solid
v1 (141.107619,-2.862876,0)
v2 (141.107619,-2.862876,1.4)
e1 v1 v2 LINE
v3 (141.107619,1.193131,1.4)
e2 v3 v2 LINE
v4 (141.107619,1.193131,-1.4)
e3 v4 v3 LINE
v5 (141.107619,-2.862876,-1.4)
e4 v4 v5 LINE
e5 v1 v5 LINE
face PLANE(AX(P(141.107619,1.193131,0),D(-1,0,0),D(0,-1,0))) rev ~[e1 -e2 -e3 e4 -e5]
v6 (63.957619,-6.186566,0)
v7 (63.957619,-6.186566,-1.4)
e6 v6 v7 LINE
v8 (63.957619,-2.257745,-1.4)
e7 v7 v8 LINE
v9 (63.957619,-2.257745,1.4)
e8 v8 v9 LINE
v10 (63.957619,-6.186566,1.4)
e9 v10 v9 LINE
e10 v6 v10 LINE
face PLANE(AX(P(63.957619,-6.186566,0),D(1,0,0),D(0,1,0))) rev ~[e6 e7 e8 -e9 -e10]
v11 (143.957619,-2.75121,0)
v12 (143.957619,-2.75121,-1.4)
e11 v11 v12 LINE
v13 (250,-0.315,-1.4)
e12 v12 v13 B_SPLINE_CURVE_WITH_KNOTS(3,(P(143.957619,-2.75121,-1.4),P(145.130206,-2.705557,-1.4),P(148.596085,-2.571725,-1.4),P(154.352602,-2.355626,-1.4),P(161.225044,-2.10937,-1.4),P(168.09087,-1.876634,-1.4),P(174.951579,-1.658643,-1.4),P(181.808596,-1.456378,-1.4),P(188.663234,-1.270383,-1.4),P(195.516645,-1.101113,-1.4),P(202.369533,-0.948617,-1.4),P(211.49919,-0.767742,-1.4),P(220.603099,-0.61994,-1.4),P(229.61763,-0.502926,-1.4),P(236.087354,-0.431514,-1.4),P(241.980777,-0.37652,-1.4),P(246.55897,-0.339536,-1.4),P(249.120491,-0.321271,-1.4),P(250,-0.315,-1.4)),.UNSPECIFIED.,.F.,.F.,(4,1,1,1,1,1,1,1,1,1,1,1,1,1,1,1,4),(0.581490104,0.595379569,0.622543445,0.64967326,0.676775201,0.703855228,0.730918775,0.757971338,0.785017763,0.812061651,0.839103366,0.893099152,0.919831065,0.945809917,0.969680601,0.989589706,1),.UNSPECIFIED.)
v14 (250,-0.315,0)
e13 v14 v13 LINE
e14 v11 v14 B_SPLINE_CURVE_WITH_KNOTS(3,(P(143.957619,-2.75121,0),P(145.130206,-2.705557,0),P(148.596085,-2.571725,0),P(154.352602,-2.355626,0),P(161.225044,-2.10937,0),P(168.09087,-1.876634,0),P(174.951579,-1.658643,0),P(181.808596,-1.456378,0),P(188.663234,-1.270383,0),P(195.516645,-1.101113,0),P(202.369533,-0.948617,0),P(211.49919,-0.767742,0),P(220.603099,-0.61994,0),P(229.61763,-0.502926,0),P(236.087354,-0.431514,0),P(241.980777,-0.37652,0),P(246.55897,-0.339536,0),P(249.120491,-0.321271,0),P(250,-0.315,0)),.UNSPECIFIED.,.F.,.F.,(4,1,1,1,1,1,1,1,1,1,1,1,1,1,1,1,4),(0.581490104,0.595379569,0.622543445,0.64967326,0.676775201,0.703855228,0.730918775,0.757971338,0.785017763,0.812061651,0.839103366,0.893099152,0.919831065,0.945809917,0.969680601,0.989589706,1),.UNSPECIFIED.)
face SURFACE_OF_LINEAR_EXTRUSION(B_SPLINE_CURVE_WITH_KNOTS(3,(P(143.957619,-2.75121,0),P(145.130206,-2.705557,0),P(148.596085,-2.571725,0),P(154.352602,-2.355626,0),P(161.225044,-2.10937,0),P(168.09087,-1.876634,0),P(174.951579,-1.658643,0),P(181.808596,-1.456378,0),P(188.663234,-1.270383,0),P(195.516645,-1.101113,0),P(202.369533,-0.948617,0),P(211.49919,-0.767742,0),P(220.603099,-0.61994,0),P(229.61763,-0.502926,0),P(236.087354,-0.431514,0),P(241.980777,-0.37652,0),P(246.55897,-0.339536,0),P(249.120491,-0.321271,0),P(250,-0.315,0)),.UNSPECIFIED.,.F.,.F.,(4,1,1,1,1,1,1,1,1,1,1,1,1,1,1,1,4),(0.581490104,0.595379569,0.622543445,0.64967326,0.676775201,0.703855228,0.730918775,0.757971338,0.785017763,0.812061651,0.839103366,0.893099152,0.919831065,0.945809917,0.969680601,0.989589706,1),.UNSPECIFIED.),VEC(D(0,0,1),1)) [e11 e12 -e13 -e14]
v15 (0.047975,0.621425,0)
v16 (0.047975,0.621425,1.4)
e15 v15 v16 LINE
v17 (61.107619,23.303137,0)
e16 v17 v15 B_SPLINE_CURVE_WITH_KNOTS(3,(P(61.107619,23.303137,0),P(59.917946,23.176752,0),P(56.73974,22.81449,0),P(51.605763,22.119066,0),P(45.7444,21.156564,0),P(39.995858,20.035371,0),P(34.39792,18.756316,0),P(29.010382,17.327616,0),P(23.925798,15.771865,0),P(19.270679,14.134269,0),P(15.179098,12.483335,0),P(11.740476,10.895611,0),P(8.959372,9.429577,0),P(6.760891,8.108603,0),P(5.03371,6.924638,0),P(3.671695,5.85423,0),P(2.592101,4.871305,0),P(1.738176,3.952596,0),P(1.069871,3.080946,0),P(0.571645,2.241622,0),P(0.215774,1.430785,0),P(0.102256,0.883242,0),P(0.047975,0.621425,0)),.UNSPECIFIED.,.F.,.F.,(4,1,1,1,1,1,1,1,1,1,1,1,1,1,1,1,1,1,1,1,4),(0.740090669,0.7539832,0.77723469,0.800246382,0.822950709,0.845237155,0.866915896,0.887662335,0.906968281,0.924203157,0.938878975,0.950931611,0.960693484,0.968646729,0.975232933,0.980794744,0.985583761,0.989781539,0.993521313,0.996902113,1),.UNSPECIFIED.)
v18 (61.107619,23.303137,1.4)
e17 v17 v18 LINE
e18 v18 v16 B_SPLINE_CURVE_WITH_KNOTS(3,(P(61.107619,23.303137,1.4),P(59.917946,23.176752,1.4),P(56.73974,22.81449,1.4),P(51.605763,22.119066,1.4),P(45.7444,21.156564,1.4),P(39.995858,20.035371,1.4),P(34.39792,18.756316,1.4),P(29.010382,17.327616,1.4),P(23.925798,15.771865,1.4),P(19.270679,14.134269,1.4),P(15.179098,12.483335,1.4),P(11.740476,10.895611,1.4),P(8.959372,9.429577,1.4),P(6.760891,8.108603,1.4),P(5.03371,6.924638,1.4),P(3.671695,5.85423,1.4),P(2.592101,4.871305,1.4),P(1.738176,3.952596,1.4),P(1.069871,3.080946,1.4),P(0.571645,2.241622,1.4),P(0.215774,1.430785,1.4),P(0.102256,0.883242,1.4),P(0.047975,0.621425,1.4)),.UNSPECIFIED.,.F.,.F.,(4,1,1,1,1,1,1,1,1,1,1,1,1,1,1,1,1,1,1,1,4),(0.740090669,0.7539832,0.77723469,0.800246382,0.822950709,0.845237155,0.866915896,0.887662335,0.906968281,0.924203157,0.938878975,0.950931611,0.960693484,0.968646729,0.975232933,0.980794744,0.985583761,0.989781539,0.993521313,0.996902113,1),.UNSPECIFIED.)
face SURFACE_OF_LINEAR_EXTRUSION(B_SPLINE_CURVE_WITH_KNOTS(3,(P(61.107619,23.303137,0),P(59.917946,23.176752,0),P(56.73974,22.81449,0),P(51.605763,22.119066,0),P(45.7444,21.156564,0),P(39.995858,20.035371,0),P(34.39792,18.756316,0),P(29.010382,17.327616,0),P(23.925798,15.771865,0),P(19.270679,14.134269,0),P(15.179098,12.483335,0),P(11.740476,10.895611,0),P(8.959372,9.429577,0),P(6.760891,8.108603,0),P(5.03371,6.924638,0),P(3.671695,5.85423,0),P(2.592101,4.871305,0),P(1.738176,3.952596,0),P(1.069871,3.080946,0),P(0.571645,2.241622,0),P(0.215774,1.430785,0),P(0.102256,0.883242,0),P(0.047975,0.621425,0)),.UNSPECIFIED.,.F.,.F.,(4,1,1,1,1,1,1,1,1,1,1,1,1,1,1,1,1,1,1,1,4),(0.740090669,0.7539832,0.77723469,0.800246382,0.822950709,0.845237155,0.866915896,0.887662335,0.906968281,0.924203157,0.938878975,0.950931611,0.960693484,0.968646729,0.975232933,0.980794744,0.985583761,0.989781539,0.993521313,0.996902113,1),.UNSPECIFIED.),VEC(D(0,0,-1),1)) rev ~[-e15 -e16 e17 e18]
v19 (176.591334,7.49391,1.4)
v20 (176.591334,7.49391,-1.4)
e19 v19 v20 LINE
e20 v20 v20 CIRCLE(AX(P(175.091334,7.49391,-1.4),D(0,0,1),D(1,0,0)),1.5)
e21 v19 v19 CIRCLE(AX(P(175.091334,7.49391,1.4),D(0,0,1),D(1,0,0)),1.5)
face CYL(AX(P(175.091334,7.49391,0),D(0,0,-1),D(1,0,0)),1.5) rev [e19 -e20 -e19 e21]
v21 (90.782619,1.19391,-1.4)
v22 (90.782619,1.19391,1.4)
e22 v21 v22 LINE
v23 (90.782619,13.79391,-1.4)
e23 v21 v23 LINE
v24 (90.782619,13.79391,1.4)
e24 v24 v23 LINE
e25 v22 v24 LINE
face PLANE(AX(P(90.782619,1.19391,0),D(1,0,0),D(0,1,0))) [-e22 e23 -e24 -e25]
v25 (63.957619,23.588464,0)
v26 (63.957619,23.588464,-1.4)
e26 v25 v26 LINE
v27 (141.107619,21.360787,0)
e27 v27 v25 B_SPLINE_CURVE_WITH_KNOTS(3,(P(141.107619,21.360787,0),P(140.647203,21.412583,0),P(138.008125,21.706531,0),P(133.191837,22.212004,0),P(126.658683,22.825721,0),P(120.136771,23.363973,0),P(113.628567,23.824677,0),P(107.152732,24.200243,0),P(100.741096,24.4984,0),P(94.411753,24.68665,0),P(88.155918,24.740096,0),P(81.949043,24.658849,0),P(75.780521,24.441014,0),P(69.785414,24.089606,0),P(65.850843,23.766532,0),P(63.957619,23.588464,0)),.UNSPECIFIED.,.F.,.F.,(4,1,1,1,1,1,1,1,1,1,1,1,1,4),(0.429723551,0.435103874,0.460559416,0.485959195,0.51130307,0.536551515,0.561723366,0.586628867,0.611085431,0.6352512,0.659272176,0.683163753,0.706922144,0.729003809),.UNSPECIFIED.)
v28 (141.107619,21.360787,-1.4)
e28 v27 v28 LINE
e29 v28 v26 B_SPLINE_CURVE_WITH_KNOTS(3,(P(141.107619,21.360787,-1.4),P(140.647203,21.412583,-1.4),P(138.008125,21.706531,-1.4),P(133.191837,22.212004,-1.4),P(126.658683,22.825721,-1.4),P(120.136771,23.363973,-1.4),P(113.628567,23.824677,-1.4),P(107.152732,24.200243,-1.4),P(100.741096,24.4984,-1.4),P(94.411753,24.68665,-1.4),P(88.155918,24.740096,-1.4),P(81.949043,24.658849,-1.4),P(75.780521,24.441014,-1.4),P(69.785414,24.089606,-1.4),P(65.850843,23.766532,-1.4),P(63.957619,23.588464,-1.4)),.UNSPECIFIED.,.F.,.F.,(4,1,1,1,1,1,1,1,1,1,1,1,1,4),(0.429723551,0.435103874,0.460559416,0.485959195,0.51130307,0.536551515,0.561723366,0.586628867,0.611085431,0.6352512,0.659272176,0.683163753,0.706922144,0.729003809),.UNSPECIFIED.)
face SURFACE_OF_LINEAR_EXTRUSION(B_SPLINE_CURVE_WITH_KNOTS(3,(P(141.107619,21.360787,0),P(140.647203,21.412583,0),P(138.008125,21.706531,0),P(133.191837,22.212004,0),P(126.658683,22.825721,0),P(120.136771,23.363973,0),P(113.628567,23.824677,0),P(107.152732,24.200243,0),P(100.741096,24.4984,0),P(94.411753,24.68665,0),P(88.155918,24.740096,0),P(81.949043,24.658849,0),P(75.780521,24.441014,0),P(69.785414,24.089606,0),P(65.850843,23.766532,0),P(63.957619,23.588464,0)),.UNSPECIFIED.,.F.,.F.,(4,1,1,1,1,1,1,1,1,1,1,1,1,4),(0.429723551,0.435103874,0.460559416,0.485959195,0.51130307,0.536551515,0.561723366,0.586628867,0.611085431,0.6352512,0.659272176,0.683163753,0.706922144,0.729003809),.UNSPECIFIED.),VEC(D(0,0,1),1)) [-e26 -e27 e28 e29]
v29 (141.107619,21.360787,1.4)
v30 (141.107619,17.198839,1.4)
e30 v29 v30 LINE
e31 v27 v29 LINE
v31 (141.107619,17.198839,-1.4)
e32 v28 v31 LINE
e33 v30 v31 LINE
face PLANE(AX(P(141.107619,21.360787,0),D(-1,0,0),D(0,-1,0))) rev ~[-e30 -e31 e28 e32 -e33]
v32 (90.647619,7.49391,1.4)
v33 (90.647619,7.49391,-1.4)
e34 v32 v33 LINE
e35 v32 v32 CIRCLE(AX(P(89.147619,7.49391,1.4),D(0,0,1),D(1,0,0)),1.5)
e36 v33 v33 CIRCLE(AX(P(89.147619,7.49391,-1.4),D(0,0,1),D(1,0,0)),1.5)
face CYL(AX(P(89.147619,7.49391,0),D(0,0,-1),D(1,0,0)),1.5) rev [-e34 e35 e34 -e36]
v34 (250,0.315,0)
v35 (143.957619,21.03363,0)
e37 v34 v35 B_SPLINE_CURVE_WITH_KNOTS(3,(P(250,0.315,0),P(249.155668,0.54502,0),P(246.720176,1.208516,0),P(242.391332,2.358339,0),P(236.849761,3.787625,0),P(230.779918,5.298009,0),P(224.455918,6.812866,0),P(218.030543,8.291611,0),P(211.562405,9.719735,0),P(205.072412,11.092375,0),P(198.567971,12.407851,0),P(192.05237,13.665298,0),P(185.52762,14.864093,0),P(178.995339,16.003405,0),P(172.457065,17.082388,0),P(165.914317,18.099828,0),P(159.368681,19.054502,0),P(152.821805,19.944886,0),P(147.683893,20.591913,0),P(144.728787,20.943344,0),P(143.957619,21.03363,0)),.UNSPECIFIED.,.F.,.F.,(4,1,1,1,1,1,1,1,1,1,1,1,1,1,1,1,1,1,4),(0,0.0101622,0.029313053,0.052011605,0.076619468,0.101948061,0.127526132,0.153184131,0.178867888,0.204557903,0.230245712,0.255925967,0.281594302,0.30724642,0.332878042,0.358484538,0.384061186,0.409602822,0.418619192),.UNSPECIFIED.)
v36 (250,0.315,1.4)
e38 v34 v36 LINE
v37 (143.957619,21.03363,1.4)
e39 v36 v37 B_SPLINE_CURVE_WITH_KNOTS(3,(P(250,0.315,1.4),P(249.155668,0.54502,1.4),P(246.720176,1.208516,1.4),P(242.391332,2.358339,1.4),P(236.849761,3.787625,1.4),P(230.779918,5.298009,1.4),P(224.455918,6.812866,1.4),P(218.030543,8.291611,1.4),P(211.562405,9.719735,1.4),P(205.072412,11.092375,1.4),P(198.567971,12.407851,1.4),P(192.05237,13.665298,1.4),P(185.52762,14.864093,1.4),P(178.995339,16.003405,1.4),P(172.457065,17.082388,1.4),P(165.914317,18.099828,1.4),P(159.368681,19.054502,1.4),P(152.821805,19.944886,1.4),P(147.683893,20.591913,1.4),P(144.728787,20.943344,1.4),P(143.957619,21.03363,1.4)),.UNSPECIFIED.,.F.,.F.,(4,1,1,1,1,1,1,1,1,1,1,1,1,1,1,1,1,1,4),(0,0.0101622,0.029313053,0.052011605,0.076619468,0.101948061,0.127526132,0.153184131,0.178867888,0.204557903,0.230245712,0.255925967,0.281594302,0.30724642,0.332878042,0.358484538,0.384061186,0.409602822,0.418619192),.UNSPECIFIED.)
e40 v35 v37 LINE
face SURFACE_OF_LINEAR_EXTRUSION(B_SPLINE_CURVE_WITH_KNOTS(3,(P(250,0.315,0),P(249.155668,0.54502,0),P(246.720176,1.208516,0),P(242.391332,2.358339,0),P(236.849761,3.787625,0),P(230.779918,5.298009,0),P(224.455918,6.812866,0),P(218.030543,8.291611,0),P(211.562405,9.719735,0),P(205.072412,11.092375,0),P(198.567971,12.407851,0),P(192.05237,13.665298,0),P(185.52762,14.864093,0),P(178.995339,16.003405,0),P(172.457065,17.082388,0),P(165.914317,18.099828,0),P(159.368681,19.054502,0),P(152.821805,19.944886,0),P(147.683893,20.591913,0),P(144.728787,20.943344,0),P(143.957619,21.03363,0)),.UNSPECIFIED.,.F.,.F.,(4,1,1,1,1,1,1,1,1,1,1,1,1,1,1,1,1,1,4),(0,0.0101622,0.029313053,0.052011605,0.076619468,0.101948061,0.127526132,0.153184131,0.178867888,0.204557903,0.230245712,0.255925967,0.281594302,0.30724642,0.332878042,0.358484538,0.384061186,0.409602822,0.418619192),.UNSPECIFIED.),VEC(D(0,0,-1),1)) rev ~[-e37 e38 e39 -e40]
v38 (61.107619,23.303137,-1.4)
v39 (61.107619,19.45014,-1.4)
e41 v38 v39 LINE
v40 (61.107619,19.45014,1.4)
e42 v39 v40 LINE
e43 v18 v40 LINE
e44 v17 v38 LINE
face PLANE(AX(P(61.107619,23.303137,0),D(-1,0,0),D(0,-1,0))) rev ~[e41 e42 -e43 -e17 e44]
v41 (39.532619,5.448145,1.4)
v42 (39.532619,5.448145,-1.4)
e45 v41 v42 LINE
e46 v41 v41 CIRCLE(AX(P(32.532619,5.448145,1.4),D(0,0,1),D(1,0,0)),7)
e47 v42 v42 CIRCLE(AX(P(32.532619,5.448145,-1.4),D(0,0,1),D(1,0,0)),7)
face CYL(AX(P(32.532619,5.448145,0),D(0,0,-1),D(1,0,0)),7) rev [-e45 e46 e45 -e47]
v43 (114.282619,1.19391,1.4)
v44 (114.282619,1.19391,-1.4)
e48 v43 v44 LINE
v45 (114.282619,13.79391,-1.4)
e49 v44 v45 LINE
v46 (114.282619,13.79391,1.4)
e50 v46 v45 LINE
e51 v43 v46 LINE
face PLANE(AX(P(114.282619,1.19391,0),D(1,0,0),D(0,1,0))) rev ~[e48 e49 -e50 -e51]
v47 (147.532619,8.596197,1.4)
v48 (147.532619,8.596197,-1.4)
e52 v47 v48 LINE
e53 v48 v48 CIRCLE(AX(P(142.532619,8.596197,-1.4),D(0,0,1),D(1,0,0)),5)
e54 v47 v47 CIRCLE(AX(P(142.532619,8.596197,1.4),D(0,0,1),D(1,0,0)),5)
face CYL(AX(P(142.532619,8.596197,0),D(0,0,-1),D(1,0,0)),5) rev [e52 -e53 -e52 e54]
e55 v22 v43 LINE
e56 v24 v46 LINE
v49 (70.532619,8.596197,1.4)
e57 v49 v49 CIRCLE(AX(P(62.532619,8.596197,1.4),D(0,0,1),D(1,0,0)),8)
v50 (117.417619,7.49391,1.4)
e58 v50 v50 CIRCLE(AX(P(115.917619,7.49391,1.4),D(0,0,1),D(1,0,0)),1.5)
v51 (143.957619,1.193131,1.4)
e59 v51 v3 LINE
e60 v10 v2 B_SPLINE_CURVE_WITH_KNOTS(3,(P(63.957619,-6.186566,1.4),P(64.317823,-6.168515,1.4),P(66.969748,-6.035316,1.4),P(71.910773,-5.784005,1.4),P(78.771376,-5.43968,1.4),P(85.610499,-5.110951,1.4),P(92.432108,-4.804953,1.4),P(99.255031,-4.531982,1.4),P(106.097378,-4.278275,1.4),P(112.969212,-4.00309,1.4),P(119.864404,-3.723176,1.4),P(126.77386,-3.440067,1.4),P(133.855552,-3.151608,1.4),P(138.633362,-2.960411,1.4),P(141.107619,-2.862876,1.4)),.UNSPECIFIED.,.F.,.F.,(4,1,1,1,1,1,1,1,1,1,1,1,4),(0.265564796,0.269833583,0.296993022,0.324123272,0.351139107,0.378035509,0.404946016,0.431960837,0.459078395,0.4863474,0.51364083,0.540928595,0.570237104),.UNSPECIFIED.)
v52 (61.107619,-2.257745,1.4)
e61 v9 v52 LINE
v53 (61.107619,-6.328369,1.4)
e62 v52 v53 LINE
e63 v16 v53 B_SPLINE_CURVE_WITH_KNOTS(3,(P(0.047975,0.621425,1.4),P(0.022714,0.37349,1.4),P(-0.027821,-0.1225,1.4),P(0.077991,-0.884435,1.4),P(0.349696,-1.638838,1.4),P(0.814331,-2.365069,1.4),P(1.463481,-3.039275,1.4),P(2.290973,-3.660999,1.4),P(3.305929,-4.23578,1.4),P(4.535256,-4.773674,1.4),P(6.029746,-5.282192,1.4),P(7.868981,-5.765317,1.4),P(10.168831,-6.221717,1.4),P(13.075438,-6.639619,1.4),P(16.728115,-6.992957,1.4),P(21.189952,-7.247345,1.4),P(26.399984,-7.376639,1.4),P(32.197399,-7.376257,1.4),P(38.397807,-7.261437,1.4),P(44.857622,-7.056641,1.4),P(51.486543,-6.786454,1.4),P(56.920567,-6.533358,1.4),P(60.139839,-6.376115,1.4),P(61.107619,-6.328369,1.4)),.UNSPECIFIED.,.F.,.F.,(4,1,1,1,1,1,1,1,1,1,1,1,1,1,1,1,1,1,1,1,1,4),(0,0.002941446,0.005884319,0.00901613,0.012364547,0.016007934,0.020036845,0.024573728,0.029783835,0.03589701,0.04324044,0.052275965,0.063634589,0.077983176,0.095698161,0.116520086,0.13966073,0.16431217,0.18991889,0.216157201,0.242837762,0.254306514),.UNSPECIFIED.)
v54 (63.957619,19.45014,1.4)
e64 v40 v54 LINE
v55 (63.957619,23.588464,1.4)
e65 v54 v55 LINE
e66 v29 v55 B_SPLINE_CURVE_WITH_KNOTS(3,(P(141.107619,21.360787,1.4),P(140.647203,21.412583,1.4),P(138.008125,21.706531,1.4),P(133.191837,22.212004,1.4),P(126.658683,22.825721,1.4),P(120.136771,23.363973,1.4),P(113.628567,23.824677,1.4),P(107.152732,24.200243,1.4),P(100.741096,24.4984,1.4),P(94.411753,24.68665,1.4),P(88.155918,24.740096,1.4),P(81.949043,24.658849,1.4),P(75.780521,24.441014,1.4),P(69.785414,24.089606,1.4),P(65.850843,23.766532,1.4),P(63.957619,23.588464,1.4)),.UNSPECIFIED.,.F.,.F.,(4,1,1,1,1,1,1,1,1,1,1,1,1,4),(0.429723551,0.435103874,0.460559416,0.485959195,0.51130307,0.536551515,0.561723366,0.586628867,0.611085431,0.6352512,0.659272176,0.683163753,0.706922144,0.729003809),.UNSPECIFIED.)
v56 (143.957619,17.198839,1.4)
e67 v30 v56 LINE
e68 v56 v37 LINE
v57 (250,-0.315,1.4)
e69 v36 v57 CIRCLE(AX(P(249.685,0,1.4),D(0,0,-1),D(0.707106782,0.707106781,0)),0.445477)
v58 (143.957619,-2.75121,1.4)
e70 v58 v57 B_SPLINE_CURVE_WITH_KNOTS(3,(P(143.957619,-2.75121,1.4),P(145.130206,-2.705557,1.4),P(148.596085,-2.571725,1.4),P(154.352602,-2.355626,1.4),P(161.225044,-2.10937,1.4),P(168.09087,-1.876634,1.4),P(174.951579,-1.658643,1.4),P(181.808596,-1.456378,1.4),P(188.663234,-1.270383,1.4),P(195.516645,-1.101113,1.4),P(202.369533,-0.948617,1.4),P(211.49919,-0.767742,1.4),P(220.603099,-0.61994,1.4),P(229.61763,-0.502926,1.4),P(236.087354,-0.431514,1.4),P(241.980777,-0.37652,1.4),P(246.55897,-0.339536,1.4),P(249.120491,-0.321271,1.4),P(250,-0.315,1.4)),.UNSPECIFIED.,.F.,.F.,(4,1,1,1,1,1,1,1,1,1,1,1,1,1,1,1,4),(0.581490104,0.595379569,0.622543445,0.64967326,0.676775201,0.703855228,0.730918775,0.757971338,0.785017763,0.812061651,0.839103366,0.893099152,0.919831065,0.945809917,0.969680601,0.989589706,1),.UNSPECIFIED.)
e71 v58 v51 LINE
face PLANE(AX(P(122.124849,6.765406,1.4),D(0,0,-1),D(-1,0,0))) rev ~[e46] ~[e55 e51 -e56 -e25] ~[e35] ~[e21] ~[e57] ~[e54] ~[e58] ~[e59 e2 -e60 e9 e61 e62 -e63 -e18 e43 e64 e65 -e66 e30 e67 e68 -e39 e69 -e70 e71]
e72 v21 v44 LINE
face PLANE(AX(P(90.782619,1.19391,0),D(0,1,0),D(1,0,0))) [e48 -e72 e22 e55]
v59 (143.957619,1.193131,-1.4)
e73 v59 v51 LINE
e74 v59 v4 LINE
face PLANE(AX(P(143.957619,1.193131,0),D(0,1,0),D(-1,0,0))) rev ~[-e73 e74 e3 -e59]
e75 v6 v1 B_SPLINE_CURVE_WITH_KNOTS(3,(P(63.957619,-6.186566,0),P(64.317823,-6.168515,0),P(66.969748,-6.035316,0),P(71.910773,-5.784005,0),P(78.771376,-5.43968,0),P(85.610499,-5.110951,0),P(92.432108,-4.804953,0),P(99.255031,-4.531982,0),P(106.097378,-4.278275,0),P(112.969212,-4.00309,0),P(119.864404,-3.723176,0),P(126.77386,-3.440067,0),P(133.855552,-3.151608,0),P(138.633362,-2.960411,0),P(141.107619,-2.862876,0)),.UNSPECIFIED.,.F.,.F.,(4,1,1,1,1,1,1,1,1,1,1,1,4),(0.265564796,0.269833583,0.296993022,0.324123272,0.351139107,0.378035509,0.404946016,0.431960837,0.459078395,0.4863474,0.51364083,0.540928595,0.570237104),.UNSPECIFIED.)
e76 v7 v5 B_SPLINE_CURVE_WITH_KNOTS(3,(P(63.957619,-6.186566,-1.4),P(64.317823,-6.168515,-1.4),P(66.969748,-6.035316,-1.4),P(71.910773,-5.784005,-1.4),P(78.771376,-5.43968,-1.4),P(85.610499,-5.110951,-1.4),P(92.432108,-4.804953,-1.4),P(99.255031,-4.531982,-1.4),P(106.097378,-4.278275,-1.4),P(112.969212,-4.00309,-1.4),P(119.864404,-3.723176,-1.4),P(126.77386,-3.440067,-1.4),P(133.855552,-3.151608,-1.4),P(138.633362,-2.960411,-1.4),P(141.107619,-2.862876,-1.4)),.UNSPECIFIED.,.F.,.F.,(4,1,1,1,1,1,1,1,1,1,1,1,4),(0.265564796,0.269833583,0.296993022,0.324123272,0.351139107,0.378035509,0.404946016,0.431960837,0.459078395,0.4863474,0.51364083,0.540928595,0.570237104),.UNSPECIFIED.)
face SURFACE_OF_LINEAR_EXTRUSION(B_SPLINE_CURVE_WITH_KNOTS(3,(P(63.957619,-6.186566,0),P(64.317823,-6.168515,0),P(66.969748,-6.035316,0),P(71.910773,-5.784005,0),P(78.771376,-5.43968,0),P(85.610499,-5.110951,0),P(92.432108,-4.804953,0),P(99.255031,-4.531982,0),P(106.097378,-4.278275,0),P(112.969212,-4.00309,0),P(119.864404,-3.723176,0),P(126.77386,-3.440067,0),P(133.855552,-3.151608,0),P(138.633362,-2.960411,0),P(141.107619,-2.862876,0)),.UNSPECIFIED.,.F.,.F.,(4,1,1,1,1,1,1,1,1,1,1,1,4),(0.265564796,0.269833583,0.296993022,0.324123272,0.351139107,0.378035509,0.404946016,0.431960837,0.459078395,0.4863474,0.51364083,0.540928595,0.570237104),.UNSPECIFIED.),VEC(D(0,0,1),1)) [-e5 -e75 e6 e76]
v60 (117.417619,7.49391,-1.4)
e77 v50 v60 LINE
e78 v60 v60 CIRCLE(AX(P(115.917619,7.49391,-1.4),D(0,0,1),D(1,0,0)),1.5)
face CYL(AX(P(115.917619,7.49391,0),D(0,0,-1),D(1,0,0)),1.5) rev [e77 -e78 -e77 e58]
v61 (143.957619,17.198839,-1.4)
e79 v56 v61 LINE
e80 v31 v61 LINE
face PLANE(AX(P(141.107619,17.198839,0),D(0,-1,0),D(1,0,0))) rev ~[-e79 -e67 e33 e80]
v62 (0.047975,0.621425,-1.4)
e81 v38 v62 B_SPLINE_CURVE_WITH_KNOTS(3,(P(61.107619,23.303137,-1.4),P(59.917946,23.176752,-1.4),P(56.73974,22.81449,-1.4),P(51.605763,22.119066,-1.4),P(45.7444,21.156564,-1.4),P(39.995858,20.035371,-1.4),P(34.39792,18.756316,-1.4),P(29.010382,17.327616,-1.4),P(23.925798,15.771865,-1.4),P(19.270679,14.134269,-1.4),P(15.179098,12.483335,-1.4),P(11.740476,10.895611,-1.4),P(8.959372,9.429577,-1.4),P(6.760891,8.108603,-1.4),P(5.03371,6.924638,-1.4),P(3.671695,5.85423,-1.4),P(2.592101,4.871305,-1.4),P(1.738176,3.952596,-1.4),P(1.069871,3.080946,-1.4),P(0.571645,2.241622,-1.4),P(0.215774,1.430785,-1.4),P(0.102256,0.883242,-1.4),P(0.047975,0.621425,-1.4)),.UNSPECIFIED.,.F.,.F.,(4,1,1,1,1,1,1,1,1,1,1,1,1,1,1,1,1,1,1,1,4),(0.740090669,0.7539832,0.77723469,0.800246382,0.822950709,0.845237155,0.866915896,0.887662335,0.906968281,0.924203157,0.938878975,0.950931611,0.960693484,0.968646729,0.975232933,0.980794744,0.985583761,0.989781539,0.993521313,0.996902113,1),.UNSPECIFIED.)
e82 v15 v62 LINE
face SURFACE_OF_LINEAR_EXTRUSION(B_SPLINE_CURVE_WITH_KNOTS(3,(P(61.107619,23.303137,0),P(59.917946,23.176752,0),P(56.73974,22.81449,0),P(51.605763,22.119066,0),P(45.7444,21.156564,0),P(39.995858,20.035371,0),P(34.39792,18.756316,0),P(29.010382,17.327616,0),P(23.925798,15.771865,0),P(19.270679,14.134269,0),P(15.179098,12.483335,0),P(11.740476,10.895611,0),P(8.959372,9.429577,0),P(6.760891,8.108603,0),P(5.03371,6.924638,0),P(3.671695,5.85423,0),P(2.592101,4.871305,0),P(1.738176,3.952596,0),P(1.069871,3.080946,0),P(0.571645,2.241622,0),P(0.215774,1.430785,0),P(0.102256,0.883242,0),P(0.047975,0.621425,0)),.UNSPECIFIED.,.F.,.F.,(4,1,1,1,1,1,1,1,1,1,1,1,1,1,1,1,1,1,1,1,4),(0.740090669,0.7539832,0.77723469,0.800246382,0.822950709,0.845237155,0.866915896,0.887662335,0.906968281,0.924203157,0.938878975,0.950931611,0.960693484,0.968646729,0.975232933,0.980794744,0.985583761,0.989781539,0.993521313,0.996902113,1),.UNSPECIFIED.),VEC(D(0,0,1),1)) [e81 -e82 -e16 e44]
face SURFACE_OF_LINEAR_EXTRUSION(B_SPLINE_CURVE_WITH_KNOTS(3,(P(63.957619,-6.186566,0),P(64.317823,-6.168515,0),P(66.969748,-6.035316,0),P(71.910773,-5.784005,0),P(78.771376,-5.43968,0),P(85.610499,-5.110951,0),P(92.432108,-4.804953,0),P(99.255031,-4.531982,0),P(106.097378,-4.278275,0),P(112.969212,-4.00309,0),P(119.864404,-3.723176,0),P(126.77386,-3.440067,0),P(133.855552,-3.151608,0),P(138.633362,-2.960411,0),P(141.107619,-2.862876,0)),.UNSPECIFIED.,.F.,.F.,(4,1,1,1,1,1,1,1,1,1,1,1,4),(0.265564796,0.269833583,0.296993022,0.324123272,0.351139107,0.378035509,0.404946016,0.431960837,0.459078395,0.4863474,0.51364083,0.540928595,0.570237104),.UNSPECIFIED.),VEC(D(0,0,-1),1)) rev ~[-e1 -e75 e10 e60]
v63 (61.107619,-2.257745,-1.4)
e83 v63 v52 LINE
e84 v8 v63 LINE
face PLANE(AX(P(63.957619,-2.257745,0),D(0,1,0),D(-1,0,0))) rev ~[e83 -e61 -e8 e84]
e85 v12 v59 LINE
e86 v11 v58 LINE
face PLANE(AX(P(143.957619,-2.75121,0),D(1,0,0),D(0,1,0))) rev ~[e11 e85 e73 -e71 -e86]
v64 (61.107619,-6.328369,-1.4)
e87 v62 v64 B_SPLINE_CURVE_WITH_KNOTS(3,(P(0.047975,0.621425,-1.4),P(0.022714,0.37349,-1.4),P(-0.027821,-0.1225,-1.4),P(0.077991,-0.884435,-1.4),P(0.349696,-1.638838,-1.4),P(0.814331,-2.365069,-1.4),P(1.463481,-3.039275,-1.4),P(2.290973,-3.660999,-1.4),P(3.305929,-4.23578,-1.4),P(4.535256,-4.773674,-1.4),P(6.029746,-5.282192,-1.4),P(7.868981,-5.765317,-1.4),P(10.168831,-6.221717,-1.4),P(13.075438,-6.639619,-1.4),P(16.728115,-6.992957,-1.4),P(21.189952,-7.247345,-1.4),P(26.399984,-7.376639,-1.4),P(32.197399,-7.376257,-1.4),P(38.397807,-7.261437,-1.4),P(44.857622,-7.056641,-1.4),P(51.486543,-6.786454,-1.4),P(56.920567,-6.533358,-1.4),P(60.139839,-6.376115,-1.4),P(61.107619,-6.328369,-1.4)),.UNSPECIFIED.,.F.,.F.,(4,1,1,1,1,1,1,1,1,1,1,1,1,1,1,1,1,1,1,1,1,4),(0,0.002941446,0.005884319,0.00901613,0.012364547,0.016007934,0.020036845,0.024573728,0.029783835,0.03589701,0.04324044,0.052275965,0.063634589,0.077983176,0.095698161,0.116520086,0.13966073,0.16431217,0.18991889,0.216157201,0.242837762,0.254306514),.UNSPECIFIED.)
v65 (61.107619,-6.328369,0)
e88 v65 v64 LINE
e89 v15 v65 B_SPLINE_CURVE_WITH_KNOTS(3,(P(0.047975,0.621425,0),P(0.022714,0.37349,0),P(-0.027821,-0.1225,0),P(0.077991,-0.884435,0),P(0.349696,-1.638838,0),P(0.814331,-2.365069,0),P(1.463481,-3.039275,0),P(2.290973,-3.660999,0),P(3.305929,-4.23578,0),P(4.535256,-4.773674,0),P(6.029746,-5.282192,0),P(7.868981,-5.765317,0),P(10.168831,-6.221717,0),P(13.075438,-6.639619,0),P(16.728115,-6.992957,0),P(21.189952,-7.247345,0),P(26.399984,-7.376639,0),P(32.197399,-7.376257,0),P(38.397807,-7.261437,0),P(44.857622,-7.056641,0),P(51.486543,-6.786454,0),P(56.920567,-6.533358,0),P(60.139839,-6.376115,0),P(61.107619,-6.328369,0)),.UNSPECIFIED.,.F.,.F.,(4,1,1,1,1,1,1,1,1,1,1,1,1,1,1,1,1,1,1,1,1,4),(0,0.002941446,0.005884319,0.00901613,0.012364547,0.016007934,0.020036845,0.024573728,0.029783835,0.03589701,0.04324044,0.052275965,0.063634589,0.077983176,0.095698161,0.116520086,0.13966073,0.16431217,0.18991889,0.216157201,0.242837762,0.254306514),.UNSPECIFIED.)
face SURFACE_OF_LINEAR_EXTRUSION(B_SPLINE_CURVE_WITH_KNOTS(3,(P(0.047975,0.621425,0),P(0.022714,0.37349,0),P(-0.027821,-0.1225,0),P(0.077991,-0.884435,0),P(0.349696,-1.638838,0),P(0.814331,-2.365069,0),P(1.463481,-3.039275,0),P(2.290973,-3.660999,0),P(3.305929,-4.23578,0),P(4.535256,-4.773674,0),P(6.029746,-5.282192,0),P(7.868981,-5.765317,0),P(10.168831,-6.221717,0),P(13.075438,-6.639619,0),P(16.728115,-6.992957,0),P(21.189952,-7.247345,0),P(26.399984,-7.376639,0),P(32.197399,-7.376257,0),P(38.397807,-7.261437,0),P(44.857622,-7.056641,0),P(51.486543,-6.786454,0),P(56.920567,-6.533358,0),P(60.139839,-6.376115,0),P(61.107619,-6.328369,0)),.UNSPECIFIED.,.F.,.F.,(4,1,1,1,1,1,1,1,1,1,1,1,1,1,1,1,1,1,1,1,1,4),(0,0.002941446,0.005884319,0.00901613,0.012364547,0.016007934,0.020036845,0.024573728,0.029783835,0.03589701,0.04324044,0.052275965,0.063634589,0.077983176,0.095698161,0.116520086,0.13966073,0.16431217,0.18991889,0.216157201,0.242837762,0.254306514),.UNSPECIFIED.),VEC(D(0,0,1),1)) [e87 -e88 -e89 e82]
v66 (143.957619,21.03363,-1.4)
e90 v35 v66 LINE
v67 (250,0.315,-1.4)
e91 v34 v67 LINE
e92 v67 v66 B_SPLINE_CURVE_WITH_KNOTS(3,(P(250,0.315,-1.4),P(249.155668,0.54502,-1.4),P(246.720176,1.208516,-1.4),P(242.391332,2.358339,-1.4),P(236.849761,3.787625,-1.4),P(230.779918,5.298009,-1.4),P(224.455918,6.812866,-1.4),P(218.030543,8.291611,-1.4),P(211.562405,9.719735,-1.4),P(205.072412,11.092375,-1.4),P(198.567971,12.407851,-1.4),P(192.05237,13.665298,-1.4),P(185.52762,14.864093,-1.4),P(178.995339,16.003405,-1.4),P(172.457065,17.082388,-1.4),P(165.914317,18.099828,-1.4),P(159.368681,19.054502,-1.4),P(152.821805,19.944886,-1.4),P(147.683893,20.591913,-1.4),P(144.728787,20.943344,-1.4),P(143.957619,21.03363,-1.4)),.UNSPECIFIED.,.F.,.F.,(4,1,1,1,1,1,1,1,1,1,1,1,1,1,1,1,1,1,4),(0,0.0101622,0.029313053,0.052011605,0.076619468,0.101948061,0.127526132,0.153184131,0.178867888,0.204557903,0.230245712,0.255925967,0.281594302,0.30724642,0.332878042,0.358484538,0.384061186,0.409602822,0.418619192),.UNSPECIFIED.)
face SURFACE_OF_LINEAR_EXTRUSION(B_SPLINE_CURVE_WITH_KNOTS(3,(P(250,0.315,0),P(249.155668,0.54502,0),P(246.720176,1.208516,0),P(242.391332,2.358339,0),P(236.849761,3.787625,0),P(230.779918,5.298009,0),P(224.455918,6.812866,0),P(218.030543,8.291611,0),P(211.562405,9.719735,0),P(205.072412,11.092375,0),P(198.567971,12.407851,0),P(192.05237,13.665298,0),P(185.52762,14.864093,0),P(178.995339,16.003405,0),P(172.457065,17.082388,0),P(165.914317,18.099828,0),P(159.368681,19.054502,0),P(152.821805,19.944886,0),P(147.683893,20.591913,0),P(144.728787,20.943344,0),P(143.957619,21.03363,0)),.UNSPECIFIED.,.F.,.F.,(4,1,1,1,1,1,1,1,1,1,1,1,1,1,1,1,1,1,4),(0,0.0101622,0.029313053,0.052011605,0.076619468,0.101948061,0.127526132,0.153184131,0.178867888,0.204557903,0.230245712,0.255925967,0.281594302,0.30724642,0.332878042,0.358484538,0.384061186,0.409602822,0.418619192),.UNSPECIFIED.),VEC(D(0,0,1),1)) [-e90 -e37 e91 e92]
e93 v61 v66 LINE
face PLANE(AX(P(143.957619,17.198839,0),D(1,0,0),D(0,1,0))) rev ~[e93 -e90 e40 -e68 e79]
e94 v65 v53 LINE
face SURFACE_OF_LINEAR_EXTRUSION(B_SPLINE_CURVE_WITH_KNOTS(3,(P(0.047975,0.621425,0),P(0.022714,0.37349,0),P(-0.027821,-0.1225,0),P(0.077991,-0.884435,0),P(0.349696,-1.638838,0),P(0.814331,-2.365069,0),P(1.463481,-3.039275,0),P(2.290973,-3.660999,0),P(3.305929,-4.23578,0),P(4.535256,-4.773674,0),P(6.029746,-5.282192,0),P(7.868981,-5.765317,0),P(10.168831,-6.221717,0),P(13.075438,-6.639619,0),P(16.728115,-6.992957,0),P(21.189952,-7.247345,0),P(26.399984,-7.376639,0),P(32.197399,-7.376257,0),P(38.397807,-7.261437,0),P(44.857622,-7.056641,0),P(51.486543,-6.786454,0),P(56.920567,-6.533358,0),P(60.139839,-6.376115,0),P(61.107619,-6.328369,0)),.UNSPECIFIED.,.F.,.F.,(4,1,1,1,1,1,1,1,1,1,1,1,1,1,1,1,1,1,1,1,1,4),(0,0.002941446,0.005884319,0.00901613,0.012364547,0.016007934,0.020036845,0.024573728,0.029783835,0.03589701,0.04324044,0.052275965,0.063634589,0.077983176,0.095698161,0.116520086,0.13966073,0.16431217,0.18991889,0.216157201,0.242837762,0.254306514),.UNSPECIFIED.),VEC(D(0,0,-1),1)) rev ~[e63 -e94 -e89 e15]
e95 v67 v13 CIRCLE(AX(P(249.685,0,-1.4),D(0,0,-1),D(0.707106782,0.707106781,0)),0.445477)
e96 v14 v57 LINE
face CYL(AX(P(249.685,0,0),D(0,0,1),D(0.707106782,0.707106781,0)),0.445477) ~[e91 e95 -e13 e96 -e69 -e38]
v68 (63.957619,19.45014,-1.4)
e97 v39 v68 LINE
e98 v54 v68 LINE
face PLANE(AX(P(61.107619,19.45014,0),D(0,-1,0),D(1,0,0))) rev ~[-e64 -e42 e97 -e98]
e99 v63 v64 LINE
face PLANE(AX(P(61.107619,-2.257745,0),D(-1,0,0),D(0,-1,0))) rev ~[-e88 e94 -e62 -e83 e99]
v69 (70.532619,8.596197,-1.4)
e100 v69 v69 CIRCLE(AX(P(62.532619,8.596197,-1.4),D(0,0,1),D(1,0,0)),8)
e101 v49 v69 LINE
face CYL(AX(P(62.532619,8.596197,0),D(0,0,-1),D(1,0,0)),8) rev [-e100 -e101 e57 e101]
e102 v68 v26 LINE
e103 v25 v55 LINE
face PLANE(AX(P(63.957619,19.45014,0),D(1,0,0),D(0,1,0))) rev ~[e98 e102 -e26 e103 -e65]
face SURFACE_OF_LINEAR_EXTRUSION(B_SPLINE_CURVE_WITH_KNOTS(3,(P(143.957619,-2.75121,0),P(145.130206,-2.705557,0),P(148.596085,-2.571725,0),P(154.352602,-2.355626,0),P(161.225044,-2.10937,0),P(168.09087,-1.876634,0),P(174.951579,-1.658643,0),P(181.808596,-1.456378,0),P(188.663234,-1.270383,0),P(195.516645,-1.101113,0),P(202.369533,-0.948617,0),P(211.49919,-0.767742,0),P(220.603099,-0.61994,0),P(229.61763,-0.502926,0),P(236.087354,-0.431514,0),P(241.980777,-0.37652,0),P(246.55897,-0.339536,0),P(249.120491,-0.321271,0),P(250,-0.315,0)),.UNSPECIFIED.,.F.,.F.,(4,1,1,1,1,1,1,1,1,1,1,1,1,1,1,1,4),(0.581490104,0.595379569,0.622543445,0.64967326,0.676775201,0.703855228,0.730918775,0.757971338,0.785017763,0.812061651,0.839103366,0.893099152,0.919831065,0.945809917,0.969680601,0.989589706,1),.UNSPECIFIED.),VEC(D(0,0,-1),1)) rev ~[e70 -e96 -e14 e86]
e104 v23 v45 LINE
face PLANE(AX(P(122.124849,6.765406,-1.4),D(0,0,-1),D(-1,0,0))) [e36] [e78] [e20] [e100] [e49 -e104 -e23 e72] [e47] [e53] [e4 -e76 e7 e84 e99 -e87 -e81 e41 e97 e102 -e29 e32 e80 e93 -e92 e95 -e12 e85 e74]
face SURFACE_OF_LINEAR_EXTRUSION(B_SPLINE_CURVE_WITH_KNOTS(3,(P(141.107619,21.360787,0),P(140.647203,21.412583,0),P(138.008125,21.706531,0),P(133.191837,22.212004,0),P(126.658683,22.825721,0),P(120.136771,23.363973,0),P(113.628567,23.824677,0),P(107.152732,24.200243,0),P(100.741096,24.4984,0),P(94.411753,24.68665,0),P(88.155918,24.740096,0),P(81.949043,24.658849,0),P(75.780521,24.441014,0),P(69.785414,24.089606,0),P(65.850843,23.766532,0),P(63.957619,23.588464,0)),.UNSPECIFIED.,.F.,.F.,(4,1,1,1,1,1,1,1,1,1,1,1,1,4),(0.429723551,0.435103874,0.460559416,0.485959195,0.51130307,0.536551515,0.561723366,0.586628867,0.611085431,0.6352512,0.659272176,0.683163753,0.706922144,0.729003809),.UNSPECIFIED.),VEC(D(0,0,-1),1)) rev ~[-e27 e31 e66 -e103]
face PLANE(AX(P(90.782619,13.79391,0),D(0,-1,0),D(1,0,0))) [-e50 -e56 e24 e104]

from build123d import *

# Parameters (mm, degrees)
SKETCH_1_R      = 8
SKETCH_1_R_2    = 5
SKETCH_1_R_3    = 7
SKETCH_1_R_4    = 1.5
SKETCH_1_W      = 23.5
SKETCH_1_H      = 12.6
EXTRUDE_1_DEPTH = 1.4


with BuildPart() as part:
    # Эскиз1 → Бобышка-Вытянуть1 (new, symmetric)
    with BuildSketch(Plane.XY):
        with BuildLine():
            Line((61.107619318, 19.450139662), (63.957619318, 19.450139662))
            Line((63.957619318, 19.450139662), (63.957619318, 23.588464287))
            add(Edge.make_bspline(
                [(141.107619318, 21.360787161), (140.647203073, 21.412583326), (138.008124909, 21.706530989), (133.19183673, 22.212004255), (126.658683026, 22.825721434), (120.136770918, 23.363973271), (113.62856714, 23.824677329), (107.152732037, 24.200242598), (100.741095693, 24.498399513), (94.411752715, 24.686649771), (88.155917993, 24.740095652), (81.949043055, 24.658849145), (75.780520591, 24.441013809), (69.785413798, 24.089605746), (65.850842722, 23.766532071), (63.957619318, 23.588464287)],
                knots=[0.429723551, 0.429723551, 0.429723551, 0.429723551, 0.435103874, 0.460559416, 0.485959195, 0.51130307, 0.536551515, 0.561723366, 0.586628867, 0.611085431, 0.6352512, 0.659272176, 0.683163753, 0.706922144, 0.729003809, 0.729003809, 0.729003809, 0.729003809], degree=3))
            Line((141.107619318, 21.360787161), (141.107619318, 17.19883932))
            Line((141.107619318, 17.19883932), (143.957619318, 17.19883932))
            Line((143.957619318, 17.19883932), (143.957619318, 21.033629847))
            add(Edge.make_bspline(
                [(250, 0.315), (249.15566774, 0.545019818), (246.720175698, 1.208516243), (242.391332083, 2.358339053), (236.849761204, 3.787625364), (230.779918279, 5.298008837), (224.455917947, 6.812866028), (218.030543496, 8.291610632), (211.562405045, 9.719735057), (205.072411509, 11.092374932), (198.567970913, 12.407850726), (192.052369914, 13.665297924), (185.527619973, 14.864093303), (178.995338991, 16.003404779), (172.457064741, 17.082388115), (165.914317095, 18.099827841), (159.368680729, 19.054501815), (152.821805128, 19.944885603), (147.683892721, 20.591912914), (144.728786809, 20.943344409), (143.957619318, 21.033629847)],
                knots=[0, 0, 0, 0, 0.0101622, 0.029313053, 0.052011605, 0.076619468, 0.101948061, 0.127526132, 0.153184131, 0.178867888, 0.204557903, 0.230245712, 0.255925967, 0.281594302, 0.30724642, 0.332878042, 0.358484538, 0.384061186, 0.409602822, 0.418619192, 0.418619192, 0.418619192, 0.418619192], degree=3))
            ThreePointArc((250, 0.315), (250.130477272, 0), (250, -0.315))
            add(Edge.make_bspline(
                [(143.957619318, -2.751209627), (145.13020609, -2.705557458), (148.596084852, -2.571725453), (154.352602411, -2.355626415), (161.225044134, -2.109369921), (168.090869746, -1.876634074), (174.951578522, -1.658643104), (181.808595966, -1.456378123), (188.663234462, -1.270383377), (195.516645168, -1.101112884), (202.369532894, -0.948617189), (211.49919029, -0.767742353), (220.603098666, -0.619939742), (229.617630172, -0.50292618), (236.087353854, -0.431514192), (241.980776913, -0.376520461), (246.558970011, -0.339535886), (249.120490965, -0.321271242), (250, -0.315)],
                knots=[0.581490104, 0.581490104, 0.581490104, 0.581490104, 0.595379569, 0.622543445, 0.64967326, 0.676775201, 0.703855228, 0.730918775, 0.757971338, 0.785017763, 0.812061651, 0.839103366, 0.893099152, 0.919831065, 0.945809917, 0.969680601, 0.989589706, 1, 1, 1, 1], degree=3))
            Line((143.957619318, -2.751209627), (143.957619318, 1.193130543))
            Line((143.957619318, 1.193130543), (141.107619318, 1.193130543))
            Line((141.107619318, 1.193130543), (141.107619318, -2.86287629))
            add(Edge.make_bspline(
                [(63.957619318, -6.186566126), (64.317823095, -6.168514758), (66.969747676, -6.035316313), (71.910772709, -5.784005174), (78.771375576, -5.439680449), (85.610498609, -5.110951246), (92.432107589, -4.804953317), (99.25503119, -4.531981644), (106.097378404, -4.278274658), (112.96921168, -4.00308991), (119.864404254, -3.723176166), (126.773860473, -3.440067276), (133.855552455, -3.151608468), (138.633361552, -2.960411351), (141.107619318, -2.86287629)],
                knots=[0.265564796, 0.265564796, 0.265564796, 0.265564796, 0.269833583, 0.296993022, 0.324123272, 0.351139107, 0.378035509, 0.404946016, 0.431960837, 0.459078395, 0.4863474, 0.51364083, 0.540928595, 0.570237104, 0.570237104, 0.570237104, 0.570237104], degree=3))
            Line((63.957619318, -6.186566126), (63.957619318, -2.257745247))
            Line((63.957619318, -2.257745247), (61.107619318, -2.257745247))
            Line((61.107619318, -2.257745247), (61.107619318, -6.32836923))
            add(Edge.make_bspline(
                [(0.047975, 0.621425001), (0.02271382, 0.373490086), (-0.027820789, -0.122499974), (0.077991212, -0.884434589), (0.34969565, -1.63883807), (0.814331135, -2.365068923), (1.46348078, -3.039275244), (2.290973016, -3.660999469), (3.30592875, -4.23577962), (4.535255619, -4.773674143), (6.029745688, -5.282192164), (7.868981215, -5.765316676), (10.168831391, -6.221716592), (13.075438188, -6.63961873), (16.728115362, -6.992956737), (21.189952096, -7.247345144), (26.399984415, -7.376638848), (32.197398564, -7.376256913), (38.397806759, -7.261436579), (44.857621768, -7.056641358), (51.486543096, -6.786453532), (56.920566709, -6.533358441), (60.139839208, -6.376114839), (61.107619318, -6.32836923)],
                knots=[0, 0, 0, 0, 0.002941446, 0.005884319, 0.00901613, 0.012364547, 0.016007934, 0.020036845, 0.024573728, 0.029783835, 0.03589701, 0.04324044, 0.052275965, 0.063634589, 0.077983176, 0.095698161, 0.116520086, 0.13966073, 0.16431217, 0.18991889, 0.216157201, 0.242837762, 0.254306514, 0.254306514, 0.254306514, 0.254306514], degree=3))
            add(Edge.make_bspline(
                [(61.107619318, 23.303137173), (59.917945614, 23.176751945), (56.739740439, 22.81448979), (51.605762688, 22.119065522), (45.744400311, 21.156564432), (39.995857594, 20.03537139), (34.397919842, 18.756316235), (29.010382103, 17.327615608), (23.925798408, 15.771864922), (19.27067884, 14.134269435), (15.179098391, 12.483335438), (11.74047579, 10.895610996), (8.959371869, 9.429577366), (6.76089118, 8.1086032), (5.033709748, 6.924638056), (3.671694933, 5.854229665), (2.592101123, 4.871305369), (1.738175668, 3.952595744), (1.06987083, 3.080946374), (0.57164541, 2.241622103), (0.215773899, 1.430785398), (0.102255581, 0.883241695), (0.047975, 0.621425001)],
                knots=[0.740090669, 0.740090669, 0.740090669, 0.740090669, 0.7539832, 0.77723469, 0.800246382, 0.822950709, 0.845237155, 0.866915896, 0.887662335, 0.906968281, 0.924203157, 0.938878975, 0.950931611, 0.960693484, 0.968646729, 0.975232933, 0.980794744, 0.985583761, 0.989781539, 0.993521313, 0.996902113, 1, 1, 1, 1], degree=3))
            Line((61.107619318, 23.303137173), (61.107619318, 19.450139662))
        make_face()
        with Locations((62.532619318, 8.596197208)):
            Circle(SKETCH_1_R, mode=Mode.SUBTRACT)
        with Locations((142.532619318, 8.596197208)):
            Circle(SKETCH_1_R_2, mode=Mode.SUBTRACT)
        with Locations((32.532619318, 5.448144701)):
            Circle(SKETCH_1_R_3, mode=Mode.SUBTRACT)
        with Locations((175.091334091, 7.493910357)):
            Circle(SKETCH_1_R_4, mode=Mode.SUBTRACT)
        with Locations((115.917619318, 7.493910357)):
            Circle(SKETCH_1_R_4, mode=Mode.SUBTRACT)
        with Locations((89.147619318, 7.493910357)):
            Circle(SKETCH_1_R_4, mode=Mode.SUBTRACT)
        with Locations((102.532619318, 7.493910357)):
            Rectangle(SKETCH_1_W, SKETCH_1_H, mode=Mode.SUBTRACT)
    extrude(amount=EXTRUDE_1_DEPTH, both=True)


solid = part.part
